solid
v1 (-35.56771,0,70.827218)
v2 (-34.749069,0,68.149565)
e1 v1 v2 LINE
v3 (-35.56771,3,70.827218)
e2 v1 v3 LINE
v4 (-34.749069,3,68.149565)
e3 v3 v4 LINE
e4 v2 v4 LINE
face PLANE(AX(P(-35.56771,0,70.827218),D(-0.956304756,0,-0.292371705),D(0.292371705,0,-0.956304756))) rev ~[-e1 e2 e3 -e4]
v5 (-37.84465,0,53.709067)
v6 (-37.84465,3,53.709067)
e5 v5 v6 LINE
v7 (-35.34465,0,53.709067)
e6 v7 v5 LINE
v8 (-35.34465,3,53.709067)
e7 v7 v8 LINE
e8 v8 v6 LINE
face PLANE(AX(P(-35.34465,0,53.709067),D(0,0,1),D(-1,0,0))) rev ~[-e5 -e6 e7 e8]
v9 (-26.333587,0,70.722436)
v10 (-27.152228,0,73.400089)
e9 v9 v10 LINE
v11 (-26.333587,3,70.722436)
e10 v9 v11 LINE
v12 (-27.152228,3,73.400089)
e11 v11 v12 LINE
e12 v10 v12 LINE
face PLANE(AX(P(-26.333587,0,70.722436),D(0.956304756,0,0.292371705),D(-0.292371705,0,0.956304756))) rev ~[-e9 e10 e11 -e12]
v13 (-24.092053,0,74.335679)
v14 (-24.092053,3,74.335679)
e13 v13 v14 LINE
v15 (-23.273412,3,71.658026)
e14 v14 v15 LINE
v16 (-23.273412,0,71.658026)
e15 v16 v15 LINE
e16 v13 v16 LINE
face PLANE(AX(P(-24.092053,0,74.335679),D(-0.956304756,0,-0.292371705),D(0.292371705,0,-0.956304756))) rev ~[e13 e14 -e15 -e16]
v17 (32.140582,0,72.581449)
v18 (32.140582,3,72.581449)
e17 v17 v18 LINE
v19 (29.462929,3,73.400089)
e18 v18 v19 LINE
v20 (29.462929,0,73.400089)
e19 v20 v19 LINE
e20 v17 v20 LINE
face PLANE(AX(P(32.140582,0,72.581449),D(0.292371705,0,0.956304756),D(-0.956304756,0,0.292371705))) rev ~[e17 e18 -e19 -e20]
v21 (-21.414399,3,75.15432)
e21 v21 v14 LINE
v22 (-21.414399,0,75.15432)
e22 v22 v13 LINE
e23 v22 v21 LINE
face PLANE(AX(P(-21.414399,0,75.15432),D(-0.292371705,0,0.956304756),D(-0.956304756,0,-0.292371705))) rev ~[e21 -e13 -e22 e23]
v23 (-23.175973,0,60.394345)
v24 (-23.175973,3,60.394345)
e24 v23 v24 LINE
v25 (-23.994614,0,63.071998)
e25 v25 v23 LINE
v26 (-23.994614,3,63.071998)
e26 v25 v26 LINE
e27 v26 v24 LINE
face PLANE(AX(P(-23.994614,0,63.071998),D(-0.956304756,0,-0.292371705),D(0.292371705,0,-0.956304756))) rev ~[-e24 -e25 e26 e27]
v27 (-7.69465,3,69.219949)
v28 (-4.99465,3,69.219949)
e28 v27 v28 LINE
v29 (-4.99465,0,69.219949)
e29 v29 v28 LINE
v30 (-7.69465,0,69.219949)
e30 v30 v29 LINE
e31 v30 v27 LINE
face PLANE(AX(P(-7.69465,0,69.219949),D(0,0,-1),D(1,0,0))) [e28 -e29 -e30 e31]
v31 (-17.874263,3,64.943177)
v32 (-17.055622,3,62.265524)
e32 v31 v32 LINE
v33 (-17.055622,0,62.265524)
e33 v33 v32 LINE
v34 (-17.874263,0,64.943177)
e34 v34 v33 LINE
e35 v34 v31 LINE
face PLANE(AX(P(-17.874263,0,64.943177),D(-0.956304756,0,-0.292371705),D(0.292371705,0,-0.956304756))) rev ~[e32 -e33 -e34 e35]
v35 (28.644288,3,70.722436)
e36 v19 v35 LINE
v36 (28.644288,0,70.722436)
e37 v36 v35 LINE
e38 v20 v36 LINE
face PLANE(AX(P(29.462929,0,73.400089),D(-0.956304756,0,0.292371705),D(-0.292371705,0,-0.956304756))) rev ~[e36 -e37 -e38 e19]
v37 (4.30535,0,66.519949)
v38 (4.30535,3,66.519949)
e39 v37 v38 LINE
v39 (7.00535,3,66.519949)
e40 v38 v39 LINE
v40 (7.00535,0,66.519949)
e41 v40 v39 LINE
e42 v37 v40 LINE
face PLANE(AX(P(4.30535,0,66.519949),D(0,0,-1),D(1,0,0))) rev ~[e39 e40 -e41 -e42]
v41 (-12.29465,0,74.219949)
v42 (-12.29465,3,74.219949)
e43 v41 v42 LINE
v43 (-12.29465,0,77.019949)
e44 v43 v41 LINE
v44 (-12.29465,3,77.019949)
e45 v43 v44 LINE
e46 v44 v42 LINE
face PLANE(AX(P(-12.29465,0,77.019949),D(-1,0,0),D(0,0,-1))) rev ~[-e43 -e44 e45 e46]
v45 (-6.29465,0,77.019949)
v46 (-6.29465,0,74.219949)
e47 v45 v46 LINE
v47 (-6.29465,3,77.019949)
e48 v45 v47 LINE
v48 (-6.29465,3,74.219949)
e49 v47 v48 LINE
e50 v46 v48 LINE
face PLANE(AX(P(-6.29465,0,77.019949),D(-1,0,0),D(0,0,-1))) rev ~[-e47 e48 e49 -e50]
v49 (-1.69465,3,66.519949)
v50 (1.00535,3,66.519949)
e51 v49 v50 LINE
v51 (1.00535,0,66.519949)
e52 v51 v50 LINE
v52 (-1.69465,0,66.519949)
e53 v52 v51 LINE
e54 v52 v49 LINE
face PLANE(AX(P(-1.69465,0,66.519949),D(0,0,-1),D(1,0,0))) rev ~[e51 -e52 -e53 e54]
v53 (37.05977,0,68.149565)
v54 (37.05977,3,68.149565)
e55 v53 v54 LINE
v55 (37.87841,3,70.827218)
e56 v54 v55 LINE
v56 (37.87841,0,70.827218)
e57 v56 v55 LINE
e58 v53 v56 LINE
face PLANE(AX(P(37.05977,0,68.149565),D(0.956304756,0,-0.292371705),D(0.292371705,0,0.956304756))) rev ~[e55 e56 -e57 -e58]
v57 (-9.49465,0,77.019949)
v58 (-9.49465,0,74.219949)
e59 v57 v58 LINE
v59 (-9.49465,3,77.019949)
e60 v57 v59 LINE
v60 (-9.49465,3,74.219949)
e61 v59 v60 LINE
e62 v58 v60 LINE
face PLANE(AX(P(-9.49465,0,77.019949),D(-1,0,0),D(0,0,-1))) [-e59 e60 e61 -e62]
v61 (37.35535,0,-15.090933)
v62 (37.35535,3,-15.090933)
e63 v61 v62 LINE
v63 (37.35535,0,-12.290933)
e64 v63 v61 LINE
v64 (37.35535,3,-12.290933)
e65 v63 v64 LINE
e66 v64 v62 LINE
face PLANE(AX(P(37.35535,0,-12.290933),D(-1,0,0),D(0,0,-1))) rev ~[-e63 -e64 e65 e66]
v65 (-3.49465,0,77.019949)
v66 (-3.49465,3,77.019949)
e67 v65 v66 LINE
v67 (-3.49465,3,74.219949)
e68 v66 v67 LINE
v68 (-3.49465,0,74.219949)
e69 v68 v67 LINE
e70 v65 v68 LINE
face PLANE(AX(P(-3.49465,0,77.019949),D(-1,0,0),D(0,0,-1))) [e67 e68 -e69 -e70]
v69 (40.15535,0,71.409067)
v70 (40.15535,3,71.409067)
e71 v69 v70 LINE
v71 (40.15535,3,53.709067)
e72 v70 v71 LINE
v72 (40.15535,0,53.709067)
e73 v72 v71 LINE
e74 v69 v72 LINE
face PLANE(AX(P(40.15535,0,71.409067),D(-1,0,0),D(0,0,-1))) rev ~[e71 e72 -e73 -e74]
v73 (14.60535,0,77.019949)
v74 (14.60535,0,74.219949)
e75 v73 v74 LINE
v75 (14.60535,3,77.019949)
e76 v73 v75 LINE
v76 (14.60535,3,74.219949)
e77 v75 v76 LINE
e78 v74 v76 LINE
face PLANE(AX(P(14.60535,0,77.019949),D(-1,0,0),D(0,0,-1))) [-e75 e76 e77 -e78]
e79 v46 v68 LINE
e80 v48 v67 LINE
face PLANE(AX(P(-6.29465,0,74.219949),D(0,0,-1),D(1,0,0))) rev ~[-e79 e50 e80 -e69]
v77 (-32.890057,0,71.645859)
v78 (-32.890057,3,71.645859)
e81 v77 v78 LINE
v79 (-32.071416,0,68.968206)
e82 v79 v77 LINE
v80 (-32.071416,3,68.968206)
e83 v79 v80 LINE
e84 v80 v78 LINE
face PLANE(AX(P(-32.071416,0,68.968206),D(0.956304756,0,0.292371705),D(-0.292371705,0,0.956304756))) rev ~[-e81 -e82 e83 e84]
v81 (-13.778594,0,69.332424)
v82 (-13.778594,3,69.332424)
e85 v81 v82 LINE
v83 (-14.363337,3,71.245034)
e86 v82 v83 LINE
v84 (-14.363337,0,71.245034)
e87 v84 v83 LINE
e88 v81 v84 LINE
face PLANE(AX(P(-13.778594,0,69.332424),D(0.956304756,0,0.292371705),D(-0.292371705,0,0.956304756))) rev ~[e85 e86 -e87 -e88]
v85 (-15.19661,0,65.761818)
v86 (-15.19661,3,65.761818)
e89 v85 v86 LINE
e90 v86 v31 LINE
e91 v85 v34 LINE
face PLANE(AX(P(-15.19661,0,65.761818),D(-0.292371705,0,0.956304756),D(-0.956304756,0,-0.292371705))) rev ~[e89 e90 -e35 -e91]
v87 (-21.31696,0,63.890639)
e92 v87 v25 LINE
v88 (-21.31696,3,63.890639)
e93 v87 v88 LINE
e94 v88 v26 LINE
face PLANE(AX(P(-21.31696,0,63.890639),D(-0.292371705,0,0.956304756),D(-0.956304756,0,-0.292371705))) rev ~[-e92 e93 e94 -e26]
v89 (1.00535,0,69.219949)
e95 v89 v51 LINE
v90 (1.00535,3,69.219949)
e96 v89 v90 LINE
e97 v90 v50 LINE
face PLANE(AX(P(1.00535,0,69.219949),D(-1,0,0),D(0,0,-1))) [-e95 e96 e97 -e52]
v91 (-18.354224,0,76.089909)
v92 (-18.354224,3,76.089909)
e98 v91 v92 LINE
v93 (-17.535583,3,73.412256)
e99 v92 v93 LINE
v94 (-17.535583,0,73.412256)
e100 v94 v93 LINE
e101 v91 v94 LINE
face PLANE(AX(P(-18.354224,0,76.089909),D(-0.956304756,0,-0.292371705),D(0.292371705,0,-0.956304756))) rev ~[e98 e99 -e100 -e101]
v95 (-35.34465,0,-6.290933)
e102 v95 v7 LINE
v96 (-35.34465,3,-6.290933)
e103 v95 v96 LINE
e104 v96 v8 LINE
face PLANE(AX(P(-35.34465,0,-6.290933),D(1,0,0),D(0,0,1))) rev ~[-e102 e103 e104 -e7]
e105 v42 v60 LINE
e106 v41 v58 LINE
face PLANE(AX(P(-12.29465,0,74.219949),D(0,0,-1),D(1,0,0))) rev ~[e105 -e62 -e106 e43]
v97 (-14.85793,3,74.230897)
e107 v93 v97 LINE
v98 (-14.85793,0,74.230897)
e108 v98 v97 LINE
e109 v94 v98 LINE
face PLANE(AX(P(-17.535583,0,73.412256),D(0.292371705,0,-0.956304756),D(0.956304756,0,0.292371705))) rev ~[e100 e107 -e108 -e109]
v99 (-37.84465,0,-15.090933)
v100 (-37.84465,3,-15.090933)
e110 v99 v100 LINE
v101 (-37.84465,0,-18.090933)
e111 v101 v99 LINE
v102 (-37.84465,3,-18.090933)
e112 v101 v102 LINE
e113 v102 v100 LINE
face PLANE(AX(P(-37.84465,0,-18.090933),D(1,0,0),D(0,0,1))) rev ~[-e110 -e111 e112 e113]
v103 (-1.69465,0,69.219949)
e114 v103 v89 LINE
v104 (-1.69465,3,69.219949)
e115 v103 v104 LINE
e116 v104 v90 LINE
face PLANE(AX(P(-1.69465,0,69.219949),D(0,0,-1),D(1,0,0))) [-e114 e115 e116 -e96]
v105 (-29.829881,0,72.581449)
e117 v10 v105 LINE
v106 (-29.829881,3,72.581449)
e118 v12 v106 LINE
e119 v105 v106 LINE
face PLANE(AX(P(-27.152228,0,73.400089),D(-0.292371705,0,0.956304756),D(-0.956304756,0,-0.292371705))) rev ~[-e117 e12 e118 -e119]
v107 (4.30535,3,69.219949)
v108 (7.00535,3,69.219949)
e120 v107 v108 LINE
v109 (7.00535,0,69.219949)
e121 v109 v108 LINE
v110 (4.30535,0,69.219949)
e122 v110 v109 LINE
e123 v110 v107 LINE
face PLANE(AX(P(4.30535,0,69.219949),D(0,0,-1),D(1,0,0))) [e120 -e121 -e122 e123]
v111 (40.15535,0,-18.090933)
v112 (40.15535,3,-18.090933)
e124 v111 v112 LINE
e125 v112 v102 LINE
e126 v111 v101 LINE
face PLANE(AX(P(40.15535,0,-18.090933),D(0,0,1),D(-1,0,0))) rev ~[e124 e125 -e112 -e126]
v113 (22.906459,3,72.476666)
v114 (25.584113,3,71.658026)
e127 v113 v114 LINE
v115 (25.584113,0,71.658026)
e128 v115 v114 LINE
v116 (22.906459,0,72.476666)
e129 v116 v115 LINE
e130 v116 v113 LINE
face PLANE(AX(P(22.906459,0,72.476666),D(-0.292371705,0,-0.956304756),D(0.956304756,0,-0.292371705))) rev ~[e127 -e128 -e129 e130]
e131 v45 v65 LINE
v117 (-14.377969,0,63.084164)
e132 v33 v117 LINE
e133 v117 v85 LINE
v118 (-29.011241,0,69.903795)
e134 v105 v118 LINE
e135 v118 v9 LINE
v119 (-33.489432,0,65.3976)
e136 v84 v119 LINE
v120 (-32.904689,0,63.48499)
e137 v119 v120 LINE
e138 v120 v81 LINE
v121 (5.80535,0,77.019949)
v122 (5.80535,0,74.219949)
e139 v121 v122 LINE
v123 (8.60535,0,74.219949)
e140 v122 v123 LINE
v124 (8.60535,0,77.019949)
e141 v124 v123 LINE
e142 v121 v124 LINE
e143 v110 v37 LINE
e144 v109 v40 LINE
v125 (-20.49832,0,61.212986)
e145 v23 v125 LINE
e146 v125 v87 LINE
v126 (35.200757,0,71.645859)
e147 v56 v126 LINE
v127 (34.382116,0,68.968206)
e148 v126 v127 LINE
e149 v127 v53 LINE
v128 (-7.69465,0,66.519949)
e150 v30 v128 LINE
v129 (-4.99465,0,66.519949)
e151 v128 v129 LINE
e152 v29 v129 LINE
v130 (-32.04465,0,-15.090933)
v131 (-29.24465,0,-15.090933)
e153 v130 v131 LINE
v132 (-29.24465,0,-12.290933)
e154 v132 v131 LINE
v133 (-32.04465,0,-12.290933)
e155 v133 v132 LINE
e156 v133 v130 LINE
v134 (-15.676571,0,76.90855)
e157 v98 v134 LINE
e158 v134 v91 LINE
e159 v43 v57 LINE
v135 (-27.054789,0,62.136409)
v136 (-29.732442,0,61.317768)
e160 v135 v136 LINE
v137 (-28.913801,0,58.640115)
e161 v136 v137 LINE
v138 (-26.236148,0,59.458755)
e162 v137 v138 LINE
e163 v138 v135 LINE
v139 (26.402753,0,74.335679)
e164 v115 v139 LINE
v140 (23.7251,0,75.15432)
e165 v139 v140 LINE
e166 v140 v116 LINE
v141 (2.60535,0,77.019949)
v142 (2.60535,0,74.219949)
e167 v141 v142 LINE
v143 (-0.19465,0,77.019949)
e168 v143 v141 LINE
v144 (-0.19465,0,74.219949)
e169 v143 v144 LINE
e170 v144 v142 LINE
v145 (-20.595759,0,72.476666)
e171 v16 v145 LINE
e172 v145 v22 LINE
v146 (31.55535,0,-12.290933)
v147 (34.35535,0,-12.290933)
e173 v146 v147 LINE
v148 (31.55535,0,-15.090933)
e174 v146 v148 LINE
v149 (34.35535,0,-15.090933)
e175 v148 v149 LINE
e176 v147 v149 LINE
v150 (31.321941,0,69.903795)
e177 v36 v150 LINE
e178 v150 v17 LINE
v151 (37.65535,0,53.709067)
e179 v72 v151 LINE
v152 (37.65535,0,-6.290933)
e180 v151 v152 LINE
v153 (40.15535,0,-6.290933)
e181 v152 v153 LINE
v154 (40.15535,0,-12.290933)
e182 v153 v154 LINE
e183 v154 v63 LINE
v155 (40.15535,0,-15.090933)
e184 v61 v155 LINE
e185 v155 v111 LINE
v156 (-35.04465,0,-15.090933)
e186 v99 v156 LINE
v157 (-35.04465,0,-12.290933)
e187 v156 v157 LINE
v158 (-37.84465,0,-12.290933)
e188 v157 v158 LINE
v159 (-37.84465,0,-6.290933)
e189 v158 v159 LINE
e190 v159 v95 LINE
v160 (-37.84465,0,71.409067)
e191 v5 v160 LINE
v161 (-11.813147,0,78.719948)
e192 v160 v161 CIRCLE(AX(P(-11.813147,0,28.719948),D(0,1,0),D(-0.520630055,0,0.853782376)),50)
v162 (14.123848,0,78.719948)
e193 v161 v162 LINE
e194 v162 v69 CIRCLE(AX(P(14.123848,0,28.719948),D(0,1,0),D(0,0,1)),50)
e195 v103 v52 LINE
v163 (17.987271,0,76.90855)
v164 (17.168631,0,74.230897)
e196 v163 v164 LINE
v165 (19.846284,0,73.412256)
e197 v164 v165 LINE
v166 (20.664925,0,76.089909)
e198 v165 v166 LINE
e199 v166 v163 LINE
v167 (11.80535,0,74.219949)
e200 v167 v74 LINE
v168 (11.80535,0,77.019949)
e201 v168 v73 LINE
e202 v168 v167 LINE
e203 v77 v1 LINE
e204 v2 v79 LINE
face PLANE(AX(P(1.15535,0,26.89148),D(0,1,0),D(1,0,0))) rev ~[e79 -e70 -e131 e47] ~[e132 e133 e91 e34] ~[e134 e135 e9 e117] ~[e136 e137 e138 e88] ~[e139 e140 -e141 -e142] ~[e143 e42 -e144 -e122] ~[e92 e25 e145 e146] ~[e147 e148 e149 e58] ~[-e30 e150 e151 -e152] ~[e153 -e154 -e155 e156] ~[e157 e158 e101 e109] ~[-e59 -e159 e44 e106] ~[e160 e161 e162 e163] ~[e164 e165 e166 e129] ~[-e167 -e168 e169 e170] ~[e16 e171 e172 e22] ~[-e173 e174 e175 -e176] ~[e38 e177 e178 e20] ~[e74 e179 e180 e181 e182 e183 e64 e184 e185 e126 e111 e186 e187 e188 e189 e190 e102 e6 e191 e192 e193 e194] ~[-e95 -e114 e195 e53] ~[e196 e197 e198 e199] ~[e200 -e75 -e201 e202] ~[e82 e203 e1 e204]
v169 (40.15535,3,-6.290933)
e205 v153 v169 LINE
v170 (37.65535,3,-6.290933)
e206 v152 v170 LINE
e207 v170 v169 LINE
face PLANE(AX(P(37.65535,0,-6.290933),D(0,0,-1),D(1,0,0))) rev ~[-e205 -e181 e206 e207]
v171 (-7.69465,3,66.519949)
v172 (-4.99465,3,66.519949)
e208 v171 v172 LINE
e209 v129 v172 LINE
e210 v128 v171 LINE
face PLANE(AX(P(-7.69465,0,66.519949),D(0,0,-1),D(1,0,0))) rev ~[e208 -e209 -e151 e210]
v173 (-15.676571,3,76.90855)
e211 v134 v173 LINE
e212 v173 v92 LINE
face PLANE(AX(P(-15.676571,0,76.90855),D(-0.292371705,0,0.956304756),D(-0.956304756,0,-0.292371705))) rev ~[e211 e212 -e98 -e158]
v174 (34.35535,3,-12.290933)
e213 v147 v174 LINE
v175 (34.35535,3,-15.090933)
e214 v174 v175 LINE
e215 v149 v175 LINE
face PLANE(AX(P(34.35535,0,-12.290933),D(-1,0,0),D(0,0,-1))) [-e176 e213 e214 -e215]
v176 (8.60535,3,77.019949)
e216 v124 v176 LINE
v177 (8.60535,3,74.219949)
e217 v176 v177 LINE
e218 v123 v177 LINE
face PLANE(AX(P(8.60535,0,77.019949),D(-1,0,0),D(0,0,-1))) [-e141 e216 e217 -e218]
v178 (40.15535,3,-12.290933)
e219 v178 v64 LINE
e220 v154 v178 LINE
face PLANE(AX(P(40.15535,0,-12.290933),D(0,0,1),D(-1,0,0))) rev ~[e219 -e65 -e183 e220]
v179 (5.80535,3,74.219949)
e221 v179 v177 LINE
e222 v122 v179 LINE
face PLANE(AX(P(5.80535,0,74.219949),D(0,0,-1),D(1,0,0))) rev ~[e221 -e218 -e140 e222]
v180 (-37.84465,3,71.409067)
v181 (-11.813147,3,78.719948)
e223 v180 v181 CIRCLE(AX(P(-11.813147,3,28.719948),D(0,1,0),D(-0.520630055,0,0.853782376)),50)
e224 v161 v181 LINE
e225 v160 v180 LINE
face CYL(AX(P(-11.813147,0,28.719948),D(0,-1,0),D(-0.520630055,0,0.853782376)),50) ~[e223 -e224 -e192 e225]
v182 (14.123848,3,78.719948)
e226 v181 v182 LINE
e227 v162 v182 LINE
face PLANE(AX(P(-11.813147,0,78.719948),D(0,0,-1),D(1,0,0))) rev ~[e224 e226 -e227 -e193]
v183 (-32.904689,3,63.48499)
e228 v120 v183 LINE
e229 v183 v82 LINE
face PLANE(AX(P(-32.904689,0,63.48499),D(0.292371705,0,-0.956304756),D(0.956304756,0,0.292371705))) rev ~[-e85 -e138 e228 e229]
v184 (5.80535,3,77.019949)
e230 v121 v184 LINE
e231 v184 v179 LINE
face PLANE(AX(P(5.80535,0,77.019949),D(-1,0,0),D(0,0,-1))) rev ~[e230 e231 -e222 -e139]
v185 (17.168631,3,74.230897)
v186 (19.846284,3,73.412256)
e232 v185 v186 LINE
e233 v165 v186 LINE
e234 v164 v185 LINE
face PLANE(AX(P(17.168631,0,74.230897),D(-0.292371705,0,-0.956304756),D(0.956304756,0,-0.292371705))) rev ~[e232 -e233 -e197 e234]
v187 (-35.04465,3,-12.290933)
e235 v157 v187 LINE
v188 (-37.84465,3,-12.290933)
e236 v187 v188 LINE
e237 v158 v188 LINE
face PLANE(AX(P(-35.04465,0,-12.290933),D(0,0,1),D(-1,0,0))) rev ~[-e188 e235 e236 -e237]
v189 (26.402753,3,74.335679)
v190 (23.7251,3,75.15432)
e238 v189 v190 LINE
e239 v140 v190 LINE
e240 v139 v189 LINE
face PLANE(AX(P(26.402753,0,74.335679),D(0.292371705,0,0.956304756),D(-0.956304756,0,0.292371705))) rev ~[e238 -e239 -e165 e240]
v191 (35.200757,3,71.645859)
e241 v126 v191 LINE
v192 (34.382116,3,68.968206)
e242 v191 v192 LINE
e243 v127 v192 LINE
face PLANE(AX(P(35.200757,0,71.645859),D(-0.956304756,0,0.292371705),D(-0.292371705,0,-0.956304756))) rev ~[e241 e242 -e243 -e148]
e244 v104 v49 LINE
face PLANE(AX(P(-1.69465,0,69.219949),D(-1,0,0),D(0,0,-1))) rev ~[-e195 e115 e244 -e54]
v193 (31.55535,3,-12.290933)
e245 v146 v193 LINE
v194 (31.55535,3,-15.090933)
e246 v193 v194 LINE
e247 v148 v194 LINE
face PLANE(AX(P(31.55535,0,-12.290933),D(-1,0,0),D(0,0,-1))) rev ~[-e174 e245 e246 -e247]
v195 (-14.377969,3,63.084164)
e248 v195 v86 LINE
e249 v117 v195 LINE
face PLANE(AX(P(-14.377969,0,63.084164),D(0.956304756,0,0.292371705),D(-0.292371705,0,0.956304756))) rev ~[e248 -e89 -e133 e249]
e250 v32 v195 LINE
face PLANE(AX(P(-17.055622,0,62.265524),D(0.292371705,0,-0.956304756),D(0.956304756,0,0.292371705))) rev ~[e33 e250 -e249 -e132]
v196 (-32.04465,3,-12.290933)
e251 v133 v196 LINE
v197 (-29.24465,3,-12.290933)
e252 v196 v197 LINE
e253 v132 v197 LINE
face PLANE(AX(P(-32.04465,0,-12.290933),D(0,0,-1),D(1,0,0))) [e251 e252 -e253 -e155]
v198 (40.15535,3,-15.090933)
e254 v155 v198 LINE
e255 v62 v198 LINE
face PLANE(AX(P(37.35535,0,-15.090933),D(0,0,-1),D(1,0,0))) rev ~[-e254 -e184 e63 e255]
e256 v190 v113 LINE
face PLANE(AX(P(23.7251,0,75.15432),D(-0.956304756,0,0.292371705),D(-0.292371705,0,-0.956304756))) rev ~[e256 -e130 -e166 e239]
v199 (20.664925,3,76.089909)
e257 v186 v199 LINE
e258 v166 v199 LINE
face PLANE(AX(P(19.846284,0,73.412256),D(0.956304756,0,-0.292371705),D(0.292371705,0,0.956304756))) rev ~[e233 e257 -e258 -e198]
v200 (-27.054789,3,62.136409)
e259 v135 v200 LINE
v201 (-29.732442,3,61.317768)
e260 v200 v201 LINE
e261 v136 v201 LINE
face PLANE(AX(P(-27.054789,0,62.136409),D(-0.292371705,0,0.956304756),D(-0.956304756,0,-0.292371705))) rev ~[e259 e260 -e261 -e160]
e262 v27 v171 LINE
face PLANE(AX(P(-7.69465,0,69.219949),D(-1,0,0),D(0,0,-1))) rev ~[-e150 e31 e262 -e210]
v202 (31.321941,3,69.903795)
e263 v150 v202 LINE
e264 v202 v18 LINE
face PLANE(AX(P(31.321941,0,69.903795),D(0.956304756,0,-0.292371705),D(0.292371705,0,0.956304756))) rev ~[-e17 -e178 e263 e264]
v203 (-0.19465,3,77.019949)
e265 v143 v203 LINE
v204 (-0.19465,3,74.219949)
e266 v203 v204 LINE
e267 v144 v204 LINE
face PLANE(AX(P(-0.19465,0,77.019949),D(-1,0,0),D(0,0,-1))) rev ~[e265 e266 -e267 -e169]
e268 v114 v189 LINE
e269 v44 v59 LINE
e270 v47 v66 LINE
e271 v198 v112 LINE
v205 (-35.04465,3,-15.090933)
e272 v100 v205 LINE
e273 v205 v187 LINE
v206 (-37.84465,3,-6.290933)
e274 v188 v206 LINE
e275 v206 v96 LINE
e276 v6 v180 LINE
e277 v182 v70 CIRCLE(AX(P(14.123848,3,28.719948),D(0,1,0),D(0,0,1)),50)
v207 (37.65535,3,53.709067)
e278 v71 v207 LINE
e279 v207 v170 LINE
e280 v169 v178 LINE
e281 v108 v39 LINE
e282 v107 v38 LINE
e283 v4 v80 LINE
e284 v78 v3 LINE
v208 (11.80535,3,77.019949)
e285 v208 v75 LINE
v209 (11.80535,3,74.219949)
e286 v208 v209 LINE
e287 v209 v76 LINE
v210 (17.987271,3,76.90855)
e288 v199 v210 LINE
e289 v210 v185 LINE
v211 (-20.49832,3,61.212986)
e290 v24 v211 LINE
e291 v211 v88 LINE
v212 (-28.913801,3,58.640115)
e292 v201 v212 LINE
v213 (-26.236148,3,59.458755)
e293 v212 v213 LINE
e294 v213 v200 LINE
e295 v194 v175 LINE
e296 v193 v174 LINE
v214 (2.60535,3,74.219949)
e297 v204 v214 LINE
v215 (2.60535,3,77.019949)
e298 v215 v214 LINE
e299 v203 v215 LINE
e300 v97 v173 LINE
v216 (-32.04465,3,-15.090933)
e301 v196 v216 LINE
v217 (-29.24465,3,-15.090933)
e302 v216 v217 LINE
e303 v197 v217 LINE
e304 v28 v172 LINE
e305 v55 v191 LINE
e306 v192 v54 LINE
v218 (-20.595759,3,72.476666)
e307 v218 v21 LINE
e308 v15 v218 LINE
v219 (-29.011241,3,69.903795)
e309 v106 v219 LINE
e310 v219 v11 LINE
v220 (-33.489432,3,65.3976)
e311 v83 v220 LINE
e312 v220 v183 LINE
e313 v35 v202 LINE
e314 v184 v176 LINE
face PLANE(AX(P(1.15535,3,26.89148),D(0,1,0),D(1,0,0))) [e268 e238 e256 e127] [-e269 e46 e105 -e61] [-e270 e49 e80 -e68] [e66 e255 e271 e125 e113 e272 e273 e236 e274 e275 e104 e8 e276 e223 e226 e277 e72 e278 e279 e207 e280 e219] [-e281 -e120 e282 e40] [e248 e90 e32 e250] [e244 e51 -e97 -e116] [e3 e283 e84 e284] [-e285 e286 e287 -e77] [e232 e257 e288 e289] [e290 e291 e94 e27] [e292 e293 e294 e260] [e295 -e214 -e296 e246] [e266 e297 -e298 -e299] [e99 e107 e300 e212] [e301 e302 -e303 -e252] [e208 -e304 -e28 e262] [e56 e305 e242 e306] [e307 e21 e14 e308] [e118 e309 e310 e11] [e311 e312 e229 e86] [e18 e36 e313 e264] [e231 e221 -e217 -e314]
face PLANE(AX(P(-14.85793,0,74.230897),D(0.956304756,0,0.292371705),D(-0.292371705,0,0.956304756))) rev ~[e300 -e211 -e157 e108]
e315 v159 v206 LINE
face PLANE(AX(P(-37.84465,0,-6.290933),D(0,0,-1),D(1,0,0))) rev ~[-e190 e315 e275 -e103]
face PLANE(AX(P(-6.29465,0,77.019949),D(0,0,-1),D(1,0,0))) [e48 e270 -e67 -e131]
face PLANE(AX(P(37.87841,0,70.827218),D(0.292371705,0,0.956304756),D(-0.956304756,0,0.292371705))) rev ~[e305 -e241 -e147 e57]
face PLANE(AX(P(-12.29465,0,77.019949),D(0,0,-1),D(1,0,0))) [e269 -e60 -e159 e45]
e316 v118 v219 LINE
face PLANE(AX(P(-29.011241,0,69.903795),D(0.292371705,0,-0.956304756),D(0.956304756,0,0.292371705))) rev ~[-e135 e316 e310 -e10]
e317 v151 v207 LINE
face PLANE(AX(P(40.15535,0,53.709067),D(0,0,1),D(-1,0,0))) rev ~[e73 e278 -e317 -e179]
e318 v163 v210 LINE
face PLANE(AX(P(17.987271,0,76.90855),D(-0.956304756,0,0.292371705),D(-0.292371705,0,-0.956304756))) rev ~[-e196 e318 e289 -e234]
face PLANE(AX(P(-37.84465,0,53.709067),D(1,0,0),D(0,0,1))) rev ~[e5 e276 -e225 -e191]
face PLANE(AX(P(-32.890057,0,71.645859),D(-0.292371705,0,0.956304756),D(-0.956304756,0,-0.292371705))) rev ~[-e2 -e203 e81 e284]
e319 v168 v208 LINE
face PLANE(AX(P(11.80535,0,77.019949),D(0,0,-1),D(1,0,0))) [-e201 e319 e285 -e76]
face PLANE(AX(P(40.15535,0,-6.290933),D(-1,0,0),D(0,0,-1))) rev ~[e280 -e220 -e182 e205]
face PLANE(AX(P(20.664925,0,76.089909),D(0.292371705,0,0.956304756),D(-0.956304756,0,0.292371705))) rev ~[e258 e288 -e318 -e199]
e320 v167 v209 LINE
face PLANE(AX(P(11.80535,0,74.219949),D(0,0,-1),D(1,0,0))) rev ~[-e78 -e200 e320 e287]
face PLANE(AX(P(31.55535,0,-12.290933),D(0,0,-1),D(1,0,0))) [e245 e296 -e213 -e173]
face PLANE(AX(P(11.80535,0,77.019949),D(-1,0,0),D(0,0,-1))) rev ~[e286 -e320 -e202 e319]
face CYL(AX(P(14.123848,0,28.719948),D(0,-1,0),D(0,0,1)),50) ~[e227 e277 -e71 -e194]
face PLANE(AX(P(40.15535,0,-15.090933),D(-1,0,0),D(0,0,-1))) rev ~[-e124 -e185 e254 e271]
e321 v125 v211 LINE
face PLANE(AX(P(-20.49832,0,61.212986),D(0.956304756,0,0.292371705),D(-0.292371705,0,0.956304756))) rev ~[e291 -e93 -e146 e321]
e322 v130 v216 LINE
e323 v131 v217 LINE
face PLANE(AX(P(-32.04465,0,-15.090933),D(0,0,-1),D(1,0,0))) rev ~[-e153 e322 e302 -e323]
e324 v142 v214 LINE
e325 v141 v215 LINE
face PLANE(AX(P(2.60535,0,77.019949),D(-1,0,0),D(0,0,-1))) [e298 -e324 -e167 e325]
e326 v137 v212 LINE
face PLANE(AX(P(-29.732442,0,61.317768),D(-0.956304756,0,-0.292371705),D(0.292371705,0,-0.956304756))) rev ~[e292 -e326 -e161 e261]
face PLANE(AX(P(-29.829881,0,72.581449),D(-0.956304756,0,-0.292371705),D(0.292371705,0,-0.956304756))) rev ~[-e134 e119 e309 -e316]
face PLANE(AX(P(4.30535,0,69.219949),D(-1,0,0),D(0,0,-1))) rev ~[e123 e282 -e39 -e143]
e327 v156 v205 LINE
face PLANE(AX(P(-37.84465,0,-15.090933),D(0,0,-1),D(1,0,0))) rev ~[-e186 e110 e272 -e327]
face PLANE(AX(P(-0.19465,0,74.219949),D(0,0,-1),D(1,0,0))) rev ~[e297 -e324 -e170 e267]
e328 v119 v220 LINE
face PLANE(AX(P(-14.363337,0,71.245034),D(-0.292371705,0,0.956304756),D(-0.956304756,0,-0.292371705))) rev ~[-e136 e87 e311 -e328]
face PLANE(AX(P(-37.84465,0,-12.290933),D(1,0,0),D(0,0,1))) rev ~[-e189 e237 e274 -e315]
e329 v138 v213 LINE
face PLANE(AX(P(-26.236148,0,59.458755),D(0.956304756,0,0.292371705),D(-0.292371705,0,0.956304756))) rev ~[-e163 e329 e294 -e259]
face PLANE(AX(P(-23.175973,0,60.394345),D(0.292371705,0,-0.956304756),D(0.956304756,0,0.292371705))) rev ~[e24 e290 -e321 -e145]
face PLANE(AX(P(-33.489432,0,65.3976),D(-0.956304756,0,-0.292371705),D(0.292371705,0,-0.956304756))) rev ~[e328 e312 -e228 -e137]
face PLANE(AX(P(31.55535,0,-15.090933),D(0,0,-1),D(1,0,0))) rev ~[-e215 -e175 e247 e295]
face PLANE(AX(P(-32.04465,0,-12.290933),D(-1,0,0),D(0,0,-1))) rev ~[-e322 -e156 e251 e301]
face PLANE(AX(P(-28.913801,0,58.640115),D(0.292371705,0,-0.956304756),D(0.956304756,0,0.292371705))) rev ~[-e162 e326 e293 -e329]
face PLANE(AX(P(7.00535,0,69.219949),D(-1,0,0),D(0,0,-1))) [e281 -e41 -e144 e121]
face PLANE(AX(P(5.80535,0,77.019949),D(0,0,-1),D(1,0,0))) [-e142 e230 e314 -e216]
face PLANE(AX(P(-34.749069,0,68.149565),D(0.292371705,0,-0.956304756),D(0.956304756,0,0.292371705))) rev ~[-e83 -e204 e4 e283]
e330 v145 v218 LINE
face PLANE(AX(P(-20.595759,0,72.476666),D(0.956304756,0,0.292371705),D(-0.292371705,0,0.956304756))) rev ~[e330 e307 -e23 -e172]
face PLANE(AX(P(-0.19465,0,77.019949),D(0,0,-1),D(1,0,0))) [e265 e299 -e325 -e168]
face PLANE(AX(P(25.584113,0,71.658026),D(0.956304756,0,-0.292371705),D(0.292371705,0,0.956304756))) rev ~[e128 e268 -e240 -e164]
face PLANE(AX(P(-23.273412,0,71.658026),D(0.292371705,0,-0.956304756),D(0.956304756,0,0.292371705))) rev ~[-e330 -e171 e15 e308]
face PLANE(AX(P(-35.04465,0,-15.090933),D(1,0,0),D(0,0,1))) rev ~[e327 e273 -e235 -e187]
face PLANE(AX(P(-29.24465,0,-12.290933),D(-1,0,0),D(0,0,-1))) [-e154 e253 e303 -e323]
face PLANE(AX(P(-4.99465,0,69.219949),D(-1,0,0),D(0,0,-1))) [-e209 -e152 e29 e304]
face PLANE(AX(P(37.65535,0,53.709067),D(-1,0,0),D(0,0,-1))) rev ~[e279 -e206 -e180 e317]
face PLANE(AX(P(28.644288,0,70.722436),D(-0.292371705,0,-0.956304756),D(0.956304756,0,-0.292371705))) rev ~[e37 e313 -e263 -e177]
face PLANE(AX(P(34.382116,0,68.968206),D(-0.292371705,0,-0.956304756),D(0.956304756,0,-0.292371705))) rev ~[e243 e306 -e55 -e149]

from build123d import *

# Parameters (mm, degrees)
SKETCH1_W           = 2.8
SKETCH1_H           = 2.8
SKETCH1_W_2         = 2.7
SKETCH1_H_2         = 2.7
BOSS_EXTRUDE1_DEPTH = 3


with BuildPart() as part:
    # Sketch1 → Boss-Extrude1 (new body)
    with BuildSketch(Plane(origin=(0, 0, 0), x_dir=(1, 0, 0), z_dir=(0, 1, 0))):
        with BuildLine():
            Line((-37.844649751, 18.090932989), (-37.844649751, 15.090932989))
            Line((-37.844649751, 15.090932989), (-35.044649751, 15.090932989))
            Line((-35.044649751, 15.090932989), (-35.044649751, 12.290932989))
            Line((-35.044649751, 12.290932989), (-37.844649751, 12.290932989))
            Line((-37.844649751, 12.290932989), (-37.844649751, 6.290932989))
            Line((-37.844649751, 6.290932989), (-35.344649751, 6.290932989))
            Line((-35.344649751, 6.290932989), (-35.344649751, -53.709067011))
            Line((-35.344649751, -53.709067011), (-37.844649751, -53.709067011))
            Line((-37.844649751, -53.709067011), (-37.844649751, -71.409067011))
            ThreePointArc((-37.844649751, -71.409067011), (-25.332467624, -76.857542339), (-11.813147026, -78.719948188))
            Line((-11.813147026, -78.719948188), (-8.844649751, -78.719948188))
            Line((-8.844649751, -78.719948188), (1.155350249, -78.719948188))
            Line((1.155350249, -78.719948188), (11.155350249, -78.719948188))
            Line((11.155350249, -78.719948188), (14.123847524, -78.719948188))
            ThreePointArc((14.123847524, -78.719948188), (27.643168122, -76.857542339), (40.155350249, -71.409067011))
            Line((40.155350249, -71.409067011), (40.155350249, -53.709067011))
            Line((40.155350249, -53.709067011), (37.655350249, -53.709067011))
            Line((37.655350249, -53.709067011), (37.655350249, 6.290932989))
            Line((37.655350249, 6.290932989), (40.155350249, 6.290932989))
            Line((40.155350249, 6.290932989), (40.155350249, 12.290932989))
            Line((40.155350249, 12.290932989), (37.355350249, 12.290932989))
            Line((37.355350249, 12.290932989), (37.355350249, 15.090932989))
            Line((37.355350249, 15.090932989), (40.155350249, 15.090932989))
            Line((40.155350249, 15.090932989), (40.155350249, 18.090932989))
            Line((40.155350249, 18.090932989), (-37.844649751, 18.090932989))
        make_face()
        Polygon((-35.567709863, -70.827218463), (-34.74906909, -68.149565146), (-32.071415773, -68.96820592), (-32.890056546, -71.645859236), align=None, mode=Mode.SUBTRACT)
        Polygon((-29.829881327, -72.581448691), (-29.011240554, -69.903795375), (-26.333587237, -70.722436148), (-27.15222801, -73.400089465), align=None, mode=Mode.SUBTRACT)
        Polygon((-14.857930166, -74.230896605), (-15.676570939, -76.908549921), (-18.354224255, -76.089909148), (-17.535583482, -73.412255831), align=None, mode=Mode.SUBTRACT)
        Polygon((-23.273412018, -71.658025603), (-20.595758701, -72.476666376), (-21.414399475, -75.154319693), (-24.092052791, -74.33567892), align=None, mode=Mode.SUBTRACT)
        Polygon((-33.489432073, -65.39759956), (-32.904688664, -63.484990048), (-13.778593544, -69.332424143), (-14.363336954, -71.245033655), align=None, mode=Mode.SUBTRACT)
        with Locations((-10.894649751, -75.619948559)):
            Rectangle(SKETCH1_W, SKETCH1_H, mode=Mode.SUBTRACT)
        with Locations((-4.894649751, -75.619948559)):
            Rectangle(SKETCH1_W, SKETCH1_H, mode=Mode.SUBTRACT)
        with Locations((-6.344649714, -67.869948559)):
            Rectangle(SKETCH1_W_2, SKETCH1_H_2, mode=Mode.SUBTRACT)
        Polygon((-29.732442135, -61.317767872), (-28.913801362, -58.640114555), (-26.236148045, -59.458755328), (-27.054788818, -62.136408645), align=None, mode=Mode.SUBTRACT)
        Polygon((-23.994613599, -63.0719981), (-23.175972826, -60.394344784), (-20.498319509, -61.212985557), (-21.316960283, -63.890638873), align=None, mode=Mode.SUBTRACT)
        Polygon((-17.055622388, -62.265523694), (-14.377969071, -63.084164467), (-15.196609844, -65.761817784), (-17.874263161, -64.94317701), align=None, mode=Mode.SUBTRACT)
        with Locations((1.205350249, -75.619949313)):
            Rectangle(SKETCH1_W, SKETCH1_H, mode=Mode.SUBTRACT)
        with Locations((-0.344649714, -67.869948559)):
            Rectangle(SKETCH1_W_2, SKETCH1_H_2, mode=Mode.SUBTRACT)
        with Locations((5.655350286, -67.869948559)):
            Rectangle(SKETCH1_W_2, SKETCH1_H_2, mode=Mode.SUBTRACT)
        with Locations((7.205350249, -75.619948559)):
            Rectangle(SKETCH1_W, SKETCH1_H, mode=Mode.SUBTRACT)
        with Locations((13.205350249, -75.619948559)):
            Rectangle(SKETCH1_W, SKETCH1_H, mode=Mode.SUBTRACT)
        Polygon((17.987271436, -76.908549921), (17.168630663, -74.230896605), (19.84628398, -73.412255831), (20.664924753, -76.089909148), align=None, mode=Mode.SUBTRACT)
        Polygon((23.725099972, -75.154319693), (22.906459199, -72.476666376), (25.584112516, -71.658025603), (26.402753289, -74.33567892), align=None, mode=Mode.SUBTRACT)
        Polygon((28.644287735, -70.722436148), (31.321941051, -69.903795375), (32.140581825, -72.581448691), (29.462928508, -73.400089465), align=None, mode=Mode.SUBTRACT)
        Polygon((34.38211627, -68.96820592), (37.059769587, -68.149565146), (37.87841036, -70.827218463), (35.200757044, -71.645859236), align=None, mode=Mode.SUBTRACT)
        with Locations((-30.644649751, 13.690932989)):
            Rectangle(SKETCH1_W, SKETCH1_H, mode=Mode.SUBTRACT)
        with Locations((32.955350249, 13.690932989)):
            Rectangle(SKETCH1_W, SKETCH1_H, mode=Mode.SUBTRACT)
    extrude(amount=BOSS_EXTRUDE1_DEPTH)


solid = part.part
